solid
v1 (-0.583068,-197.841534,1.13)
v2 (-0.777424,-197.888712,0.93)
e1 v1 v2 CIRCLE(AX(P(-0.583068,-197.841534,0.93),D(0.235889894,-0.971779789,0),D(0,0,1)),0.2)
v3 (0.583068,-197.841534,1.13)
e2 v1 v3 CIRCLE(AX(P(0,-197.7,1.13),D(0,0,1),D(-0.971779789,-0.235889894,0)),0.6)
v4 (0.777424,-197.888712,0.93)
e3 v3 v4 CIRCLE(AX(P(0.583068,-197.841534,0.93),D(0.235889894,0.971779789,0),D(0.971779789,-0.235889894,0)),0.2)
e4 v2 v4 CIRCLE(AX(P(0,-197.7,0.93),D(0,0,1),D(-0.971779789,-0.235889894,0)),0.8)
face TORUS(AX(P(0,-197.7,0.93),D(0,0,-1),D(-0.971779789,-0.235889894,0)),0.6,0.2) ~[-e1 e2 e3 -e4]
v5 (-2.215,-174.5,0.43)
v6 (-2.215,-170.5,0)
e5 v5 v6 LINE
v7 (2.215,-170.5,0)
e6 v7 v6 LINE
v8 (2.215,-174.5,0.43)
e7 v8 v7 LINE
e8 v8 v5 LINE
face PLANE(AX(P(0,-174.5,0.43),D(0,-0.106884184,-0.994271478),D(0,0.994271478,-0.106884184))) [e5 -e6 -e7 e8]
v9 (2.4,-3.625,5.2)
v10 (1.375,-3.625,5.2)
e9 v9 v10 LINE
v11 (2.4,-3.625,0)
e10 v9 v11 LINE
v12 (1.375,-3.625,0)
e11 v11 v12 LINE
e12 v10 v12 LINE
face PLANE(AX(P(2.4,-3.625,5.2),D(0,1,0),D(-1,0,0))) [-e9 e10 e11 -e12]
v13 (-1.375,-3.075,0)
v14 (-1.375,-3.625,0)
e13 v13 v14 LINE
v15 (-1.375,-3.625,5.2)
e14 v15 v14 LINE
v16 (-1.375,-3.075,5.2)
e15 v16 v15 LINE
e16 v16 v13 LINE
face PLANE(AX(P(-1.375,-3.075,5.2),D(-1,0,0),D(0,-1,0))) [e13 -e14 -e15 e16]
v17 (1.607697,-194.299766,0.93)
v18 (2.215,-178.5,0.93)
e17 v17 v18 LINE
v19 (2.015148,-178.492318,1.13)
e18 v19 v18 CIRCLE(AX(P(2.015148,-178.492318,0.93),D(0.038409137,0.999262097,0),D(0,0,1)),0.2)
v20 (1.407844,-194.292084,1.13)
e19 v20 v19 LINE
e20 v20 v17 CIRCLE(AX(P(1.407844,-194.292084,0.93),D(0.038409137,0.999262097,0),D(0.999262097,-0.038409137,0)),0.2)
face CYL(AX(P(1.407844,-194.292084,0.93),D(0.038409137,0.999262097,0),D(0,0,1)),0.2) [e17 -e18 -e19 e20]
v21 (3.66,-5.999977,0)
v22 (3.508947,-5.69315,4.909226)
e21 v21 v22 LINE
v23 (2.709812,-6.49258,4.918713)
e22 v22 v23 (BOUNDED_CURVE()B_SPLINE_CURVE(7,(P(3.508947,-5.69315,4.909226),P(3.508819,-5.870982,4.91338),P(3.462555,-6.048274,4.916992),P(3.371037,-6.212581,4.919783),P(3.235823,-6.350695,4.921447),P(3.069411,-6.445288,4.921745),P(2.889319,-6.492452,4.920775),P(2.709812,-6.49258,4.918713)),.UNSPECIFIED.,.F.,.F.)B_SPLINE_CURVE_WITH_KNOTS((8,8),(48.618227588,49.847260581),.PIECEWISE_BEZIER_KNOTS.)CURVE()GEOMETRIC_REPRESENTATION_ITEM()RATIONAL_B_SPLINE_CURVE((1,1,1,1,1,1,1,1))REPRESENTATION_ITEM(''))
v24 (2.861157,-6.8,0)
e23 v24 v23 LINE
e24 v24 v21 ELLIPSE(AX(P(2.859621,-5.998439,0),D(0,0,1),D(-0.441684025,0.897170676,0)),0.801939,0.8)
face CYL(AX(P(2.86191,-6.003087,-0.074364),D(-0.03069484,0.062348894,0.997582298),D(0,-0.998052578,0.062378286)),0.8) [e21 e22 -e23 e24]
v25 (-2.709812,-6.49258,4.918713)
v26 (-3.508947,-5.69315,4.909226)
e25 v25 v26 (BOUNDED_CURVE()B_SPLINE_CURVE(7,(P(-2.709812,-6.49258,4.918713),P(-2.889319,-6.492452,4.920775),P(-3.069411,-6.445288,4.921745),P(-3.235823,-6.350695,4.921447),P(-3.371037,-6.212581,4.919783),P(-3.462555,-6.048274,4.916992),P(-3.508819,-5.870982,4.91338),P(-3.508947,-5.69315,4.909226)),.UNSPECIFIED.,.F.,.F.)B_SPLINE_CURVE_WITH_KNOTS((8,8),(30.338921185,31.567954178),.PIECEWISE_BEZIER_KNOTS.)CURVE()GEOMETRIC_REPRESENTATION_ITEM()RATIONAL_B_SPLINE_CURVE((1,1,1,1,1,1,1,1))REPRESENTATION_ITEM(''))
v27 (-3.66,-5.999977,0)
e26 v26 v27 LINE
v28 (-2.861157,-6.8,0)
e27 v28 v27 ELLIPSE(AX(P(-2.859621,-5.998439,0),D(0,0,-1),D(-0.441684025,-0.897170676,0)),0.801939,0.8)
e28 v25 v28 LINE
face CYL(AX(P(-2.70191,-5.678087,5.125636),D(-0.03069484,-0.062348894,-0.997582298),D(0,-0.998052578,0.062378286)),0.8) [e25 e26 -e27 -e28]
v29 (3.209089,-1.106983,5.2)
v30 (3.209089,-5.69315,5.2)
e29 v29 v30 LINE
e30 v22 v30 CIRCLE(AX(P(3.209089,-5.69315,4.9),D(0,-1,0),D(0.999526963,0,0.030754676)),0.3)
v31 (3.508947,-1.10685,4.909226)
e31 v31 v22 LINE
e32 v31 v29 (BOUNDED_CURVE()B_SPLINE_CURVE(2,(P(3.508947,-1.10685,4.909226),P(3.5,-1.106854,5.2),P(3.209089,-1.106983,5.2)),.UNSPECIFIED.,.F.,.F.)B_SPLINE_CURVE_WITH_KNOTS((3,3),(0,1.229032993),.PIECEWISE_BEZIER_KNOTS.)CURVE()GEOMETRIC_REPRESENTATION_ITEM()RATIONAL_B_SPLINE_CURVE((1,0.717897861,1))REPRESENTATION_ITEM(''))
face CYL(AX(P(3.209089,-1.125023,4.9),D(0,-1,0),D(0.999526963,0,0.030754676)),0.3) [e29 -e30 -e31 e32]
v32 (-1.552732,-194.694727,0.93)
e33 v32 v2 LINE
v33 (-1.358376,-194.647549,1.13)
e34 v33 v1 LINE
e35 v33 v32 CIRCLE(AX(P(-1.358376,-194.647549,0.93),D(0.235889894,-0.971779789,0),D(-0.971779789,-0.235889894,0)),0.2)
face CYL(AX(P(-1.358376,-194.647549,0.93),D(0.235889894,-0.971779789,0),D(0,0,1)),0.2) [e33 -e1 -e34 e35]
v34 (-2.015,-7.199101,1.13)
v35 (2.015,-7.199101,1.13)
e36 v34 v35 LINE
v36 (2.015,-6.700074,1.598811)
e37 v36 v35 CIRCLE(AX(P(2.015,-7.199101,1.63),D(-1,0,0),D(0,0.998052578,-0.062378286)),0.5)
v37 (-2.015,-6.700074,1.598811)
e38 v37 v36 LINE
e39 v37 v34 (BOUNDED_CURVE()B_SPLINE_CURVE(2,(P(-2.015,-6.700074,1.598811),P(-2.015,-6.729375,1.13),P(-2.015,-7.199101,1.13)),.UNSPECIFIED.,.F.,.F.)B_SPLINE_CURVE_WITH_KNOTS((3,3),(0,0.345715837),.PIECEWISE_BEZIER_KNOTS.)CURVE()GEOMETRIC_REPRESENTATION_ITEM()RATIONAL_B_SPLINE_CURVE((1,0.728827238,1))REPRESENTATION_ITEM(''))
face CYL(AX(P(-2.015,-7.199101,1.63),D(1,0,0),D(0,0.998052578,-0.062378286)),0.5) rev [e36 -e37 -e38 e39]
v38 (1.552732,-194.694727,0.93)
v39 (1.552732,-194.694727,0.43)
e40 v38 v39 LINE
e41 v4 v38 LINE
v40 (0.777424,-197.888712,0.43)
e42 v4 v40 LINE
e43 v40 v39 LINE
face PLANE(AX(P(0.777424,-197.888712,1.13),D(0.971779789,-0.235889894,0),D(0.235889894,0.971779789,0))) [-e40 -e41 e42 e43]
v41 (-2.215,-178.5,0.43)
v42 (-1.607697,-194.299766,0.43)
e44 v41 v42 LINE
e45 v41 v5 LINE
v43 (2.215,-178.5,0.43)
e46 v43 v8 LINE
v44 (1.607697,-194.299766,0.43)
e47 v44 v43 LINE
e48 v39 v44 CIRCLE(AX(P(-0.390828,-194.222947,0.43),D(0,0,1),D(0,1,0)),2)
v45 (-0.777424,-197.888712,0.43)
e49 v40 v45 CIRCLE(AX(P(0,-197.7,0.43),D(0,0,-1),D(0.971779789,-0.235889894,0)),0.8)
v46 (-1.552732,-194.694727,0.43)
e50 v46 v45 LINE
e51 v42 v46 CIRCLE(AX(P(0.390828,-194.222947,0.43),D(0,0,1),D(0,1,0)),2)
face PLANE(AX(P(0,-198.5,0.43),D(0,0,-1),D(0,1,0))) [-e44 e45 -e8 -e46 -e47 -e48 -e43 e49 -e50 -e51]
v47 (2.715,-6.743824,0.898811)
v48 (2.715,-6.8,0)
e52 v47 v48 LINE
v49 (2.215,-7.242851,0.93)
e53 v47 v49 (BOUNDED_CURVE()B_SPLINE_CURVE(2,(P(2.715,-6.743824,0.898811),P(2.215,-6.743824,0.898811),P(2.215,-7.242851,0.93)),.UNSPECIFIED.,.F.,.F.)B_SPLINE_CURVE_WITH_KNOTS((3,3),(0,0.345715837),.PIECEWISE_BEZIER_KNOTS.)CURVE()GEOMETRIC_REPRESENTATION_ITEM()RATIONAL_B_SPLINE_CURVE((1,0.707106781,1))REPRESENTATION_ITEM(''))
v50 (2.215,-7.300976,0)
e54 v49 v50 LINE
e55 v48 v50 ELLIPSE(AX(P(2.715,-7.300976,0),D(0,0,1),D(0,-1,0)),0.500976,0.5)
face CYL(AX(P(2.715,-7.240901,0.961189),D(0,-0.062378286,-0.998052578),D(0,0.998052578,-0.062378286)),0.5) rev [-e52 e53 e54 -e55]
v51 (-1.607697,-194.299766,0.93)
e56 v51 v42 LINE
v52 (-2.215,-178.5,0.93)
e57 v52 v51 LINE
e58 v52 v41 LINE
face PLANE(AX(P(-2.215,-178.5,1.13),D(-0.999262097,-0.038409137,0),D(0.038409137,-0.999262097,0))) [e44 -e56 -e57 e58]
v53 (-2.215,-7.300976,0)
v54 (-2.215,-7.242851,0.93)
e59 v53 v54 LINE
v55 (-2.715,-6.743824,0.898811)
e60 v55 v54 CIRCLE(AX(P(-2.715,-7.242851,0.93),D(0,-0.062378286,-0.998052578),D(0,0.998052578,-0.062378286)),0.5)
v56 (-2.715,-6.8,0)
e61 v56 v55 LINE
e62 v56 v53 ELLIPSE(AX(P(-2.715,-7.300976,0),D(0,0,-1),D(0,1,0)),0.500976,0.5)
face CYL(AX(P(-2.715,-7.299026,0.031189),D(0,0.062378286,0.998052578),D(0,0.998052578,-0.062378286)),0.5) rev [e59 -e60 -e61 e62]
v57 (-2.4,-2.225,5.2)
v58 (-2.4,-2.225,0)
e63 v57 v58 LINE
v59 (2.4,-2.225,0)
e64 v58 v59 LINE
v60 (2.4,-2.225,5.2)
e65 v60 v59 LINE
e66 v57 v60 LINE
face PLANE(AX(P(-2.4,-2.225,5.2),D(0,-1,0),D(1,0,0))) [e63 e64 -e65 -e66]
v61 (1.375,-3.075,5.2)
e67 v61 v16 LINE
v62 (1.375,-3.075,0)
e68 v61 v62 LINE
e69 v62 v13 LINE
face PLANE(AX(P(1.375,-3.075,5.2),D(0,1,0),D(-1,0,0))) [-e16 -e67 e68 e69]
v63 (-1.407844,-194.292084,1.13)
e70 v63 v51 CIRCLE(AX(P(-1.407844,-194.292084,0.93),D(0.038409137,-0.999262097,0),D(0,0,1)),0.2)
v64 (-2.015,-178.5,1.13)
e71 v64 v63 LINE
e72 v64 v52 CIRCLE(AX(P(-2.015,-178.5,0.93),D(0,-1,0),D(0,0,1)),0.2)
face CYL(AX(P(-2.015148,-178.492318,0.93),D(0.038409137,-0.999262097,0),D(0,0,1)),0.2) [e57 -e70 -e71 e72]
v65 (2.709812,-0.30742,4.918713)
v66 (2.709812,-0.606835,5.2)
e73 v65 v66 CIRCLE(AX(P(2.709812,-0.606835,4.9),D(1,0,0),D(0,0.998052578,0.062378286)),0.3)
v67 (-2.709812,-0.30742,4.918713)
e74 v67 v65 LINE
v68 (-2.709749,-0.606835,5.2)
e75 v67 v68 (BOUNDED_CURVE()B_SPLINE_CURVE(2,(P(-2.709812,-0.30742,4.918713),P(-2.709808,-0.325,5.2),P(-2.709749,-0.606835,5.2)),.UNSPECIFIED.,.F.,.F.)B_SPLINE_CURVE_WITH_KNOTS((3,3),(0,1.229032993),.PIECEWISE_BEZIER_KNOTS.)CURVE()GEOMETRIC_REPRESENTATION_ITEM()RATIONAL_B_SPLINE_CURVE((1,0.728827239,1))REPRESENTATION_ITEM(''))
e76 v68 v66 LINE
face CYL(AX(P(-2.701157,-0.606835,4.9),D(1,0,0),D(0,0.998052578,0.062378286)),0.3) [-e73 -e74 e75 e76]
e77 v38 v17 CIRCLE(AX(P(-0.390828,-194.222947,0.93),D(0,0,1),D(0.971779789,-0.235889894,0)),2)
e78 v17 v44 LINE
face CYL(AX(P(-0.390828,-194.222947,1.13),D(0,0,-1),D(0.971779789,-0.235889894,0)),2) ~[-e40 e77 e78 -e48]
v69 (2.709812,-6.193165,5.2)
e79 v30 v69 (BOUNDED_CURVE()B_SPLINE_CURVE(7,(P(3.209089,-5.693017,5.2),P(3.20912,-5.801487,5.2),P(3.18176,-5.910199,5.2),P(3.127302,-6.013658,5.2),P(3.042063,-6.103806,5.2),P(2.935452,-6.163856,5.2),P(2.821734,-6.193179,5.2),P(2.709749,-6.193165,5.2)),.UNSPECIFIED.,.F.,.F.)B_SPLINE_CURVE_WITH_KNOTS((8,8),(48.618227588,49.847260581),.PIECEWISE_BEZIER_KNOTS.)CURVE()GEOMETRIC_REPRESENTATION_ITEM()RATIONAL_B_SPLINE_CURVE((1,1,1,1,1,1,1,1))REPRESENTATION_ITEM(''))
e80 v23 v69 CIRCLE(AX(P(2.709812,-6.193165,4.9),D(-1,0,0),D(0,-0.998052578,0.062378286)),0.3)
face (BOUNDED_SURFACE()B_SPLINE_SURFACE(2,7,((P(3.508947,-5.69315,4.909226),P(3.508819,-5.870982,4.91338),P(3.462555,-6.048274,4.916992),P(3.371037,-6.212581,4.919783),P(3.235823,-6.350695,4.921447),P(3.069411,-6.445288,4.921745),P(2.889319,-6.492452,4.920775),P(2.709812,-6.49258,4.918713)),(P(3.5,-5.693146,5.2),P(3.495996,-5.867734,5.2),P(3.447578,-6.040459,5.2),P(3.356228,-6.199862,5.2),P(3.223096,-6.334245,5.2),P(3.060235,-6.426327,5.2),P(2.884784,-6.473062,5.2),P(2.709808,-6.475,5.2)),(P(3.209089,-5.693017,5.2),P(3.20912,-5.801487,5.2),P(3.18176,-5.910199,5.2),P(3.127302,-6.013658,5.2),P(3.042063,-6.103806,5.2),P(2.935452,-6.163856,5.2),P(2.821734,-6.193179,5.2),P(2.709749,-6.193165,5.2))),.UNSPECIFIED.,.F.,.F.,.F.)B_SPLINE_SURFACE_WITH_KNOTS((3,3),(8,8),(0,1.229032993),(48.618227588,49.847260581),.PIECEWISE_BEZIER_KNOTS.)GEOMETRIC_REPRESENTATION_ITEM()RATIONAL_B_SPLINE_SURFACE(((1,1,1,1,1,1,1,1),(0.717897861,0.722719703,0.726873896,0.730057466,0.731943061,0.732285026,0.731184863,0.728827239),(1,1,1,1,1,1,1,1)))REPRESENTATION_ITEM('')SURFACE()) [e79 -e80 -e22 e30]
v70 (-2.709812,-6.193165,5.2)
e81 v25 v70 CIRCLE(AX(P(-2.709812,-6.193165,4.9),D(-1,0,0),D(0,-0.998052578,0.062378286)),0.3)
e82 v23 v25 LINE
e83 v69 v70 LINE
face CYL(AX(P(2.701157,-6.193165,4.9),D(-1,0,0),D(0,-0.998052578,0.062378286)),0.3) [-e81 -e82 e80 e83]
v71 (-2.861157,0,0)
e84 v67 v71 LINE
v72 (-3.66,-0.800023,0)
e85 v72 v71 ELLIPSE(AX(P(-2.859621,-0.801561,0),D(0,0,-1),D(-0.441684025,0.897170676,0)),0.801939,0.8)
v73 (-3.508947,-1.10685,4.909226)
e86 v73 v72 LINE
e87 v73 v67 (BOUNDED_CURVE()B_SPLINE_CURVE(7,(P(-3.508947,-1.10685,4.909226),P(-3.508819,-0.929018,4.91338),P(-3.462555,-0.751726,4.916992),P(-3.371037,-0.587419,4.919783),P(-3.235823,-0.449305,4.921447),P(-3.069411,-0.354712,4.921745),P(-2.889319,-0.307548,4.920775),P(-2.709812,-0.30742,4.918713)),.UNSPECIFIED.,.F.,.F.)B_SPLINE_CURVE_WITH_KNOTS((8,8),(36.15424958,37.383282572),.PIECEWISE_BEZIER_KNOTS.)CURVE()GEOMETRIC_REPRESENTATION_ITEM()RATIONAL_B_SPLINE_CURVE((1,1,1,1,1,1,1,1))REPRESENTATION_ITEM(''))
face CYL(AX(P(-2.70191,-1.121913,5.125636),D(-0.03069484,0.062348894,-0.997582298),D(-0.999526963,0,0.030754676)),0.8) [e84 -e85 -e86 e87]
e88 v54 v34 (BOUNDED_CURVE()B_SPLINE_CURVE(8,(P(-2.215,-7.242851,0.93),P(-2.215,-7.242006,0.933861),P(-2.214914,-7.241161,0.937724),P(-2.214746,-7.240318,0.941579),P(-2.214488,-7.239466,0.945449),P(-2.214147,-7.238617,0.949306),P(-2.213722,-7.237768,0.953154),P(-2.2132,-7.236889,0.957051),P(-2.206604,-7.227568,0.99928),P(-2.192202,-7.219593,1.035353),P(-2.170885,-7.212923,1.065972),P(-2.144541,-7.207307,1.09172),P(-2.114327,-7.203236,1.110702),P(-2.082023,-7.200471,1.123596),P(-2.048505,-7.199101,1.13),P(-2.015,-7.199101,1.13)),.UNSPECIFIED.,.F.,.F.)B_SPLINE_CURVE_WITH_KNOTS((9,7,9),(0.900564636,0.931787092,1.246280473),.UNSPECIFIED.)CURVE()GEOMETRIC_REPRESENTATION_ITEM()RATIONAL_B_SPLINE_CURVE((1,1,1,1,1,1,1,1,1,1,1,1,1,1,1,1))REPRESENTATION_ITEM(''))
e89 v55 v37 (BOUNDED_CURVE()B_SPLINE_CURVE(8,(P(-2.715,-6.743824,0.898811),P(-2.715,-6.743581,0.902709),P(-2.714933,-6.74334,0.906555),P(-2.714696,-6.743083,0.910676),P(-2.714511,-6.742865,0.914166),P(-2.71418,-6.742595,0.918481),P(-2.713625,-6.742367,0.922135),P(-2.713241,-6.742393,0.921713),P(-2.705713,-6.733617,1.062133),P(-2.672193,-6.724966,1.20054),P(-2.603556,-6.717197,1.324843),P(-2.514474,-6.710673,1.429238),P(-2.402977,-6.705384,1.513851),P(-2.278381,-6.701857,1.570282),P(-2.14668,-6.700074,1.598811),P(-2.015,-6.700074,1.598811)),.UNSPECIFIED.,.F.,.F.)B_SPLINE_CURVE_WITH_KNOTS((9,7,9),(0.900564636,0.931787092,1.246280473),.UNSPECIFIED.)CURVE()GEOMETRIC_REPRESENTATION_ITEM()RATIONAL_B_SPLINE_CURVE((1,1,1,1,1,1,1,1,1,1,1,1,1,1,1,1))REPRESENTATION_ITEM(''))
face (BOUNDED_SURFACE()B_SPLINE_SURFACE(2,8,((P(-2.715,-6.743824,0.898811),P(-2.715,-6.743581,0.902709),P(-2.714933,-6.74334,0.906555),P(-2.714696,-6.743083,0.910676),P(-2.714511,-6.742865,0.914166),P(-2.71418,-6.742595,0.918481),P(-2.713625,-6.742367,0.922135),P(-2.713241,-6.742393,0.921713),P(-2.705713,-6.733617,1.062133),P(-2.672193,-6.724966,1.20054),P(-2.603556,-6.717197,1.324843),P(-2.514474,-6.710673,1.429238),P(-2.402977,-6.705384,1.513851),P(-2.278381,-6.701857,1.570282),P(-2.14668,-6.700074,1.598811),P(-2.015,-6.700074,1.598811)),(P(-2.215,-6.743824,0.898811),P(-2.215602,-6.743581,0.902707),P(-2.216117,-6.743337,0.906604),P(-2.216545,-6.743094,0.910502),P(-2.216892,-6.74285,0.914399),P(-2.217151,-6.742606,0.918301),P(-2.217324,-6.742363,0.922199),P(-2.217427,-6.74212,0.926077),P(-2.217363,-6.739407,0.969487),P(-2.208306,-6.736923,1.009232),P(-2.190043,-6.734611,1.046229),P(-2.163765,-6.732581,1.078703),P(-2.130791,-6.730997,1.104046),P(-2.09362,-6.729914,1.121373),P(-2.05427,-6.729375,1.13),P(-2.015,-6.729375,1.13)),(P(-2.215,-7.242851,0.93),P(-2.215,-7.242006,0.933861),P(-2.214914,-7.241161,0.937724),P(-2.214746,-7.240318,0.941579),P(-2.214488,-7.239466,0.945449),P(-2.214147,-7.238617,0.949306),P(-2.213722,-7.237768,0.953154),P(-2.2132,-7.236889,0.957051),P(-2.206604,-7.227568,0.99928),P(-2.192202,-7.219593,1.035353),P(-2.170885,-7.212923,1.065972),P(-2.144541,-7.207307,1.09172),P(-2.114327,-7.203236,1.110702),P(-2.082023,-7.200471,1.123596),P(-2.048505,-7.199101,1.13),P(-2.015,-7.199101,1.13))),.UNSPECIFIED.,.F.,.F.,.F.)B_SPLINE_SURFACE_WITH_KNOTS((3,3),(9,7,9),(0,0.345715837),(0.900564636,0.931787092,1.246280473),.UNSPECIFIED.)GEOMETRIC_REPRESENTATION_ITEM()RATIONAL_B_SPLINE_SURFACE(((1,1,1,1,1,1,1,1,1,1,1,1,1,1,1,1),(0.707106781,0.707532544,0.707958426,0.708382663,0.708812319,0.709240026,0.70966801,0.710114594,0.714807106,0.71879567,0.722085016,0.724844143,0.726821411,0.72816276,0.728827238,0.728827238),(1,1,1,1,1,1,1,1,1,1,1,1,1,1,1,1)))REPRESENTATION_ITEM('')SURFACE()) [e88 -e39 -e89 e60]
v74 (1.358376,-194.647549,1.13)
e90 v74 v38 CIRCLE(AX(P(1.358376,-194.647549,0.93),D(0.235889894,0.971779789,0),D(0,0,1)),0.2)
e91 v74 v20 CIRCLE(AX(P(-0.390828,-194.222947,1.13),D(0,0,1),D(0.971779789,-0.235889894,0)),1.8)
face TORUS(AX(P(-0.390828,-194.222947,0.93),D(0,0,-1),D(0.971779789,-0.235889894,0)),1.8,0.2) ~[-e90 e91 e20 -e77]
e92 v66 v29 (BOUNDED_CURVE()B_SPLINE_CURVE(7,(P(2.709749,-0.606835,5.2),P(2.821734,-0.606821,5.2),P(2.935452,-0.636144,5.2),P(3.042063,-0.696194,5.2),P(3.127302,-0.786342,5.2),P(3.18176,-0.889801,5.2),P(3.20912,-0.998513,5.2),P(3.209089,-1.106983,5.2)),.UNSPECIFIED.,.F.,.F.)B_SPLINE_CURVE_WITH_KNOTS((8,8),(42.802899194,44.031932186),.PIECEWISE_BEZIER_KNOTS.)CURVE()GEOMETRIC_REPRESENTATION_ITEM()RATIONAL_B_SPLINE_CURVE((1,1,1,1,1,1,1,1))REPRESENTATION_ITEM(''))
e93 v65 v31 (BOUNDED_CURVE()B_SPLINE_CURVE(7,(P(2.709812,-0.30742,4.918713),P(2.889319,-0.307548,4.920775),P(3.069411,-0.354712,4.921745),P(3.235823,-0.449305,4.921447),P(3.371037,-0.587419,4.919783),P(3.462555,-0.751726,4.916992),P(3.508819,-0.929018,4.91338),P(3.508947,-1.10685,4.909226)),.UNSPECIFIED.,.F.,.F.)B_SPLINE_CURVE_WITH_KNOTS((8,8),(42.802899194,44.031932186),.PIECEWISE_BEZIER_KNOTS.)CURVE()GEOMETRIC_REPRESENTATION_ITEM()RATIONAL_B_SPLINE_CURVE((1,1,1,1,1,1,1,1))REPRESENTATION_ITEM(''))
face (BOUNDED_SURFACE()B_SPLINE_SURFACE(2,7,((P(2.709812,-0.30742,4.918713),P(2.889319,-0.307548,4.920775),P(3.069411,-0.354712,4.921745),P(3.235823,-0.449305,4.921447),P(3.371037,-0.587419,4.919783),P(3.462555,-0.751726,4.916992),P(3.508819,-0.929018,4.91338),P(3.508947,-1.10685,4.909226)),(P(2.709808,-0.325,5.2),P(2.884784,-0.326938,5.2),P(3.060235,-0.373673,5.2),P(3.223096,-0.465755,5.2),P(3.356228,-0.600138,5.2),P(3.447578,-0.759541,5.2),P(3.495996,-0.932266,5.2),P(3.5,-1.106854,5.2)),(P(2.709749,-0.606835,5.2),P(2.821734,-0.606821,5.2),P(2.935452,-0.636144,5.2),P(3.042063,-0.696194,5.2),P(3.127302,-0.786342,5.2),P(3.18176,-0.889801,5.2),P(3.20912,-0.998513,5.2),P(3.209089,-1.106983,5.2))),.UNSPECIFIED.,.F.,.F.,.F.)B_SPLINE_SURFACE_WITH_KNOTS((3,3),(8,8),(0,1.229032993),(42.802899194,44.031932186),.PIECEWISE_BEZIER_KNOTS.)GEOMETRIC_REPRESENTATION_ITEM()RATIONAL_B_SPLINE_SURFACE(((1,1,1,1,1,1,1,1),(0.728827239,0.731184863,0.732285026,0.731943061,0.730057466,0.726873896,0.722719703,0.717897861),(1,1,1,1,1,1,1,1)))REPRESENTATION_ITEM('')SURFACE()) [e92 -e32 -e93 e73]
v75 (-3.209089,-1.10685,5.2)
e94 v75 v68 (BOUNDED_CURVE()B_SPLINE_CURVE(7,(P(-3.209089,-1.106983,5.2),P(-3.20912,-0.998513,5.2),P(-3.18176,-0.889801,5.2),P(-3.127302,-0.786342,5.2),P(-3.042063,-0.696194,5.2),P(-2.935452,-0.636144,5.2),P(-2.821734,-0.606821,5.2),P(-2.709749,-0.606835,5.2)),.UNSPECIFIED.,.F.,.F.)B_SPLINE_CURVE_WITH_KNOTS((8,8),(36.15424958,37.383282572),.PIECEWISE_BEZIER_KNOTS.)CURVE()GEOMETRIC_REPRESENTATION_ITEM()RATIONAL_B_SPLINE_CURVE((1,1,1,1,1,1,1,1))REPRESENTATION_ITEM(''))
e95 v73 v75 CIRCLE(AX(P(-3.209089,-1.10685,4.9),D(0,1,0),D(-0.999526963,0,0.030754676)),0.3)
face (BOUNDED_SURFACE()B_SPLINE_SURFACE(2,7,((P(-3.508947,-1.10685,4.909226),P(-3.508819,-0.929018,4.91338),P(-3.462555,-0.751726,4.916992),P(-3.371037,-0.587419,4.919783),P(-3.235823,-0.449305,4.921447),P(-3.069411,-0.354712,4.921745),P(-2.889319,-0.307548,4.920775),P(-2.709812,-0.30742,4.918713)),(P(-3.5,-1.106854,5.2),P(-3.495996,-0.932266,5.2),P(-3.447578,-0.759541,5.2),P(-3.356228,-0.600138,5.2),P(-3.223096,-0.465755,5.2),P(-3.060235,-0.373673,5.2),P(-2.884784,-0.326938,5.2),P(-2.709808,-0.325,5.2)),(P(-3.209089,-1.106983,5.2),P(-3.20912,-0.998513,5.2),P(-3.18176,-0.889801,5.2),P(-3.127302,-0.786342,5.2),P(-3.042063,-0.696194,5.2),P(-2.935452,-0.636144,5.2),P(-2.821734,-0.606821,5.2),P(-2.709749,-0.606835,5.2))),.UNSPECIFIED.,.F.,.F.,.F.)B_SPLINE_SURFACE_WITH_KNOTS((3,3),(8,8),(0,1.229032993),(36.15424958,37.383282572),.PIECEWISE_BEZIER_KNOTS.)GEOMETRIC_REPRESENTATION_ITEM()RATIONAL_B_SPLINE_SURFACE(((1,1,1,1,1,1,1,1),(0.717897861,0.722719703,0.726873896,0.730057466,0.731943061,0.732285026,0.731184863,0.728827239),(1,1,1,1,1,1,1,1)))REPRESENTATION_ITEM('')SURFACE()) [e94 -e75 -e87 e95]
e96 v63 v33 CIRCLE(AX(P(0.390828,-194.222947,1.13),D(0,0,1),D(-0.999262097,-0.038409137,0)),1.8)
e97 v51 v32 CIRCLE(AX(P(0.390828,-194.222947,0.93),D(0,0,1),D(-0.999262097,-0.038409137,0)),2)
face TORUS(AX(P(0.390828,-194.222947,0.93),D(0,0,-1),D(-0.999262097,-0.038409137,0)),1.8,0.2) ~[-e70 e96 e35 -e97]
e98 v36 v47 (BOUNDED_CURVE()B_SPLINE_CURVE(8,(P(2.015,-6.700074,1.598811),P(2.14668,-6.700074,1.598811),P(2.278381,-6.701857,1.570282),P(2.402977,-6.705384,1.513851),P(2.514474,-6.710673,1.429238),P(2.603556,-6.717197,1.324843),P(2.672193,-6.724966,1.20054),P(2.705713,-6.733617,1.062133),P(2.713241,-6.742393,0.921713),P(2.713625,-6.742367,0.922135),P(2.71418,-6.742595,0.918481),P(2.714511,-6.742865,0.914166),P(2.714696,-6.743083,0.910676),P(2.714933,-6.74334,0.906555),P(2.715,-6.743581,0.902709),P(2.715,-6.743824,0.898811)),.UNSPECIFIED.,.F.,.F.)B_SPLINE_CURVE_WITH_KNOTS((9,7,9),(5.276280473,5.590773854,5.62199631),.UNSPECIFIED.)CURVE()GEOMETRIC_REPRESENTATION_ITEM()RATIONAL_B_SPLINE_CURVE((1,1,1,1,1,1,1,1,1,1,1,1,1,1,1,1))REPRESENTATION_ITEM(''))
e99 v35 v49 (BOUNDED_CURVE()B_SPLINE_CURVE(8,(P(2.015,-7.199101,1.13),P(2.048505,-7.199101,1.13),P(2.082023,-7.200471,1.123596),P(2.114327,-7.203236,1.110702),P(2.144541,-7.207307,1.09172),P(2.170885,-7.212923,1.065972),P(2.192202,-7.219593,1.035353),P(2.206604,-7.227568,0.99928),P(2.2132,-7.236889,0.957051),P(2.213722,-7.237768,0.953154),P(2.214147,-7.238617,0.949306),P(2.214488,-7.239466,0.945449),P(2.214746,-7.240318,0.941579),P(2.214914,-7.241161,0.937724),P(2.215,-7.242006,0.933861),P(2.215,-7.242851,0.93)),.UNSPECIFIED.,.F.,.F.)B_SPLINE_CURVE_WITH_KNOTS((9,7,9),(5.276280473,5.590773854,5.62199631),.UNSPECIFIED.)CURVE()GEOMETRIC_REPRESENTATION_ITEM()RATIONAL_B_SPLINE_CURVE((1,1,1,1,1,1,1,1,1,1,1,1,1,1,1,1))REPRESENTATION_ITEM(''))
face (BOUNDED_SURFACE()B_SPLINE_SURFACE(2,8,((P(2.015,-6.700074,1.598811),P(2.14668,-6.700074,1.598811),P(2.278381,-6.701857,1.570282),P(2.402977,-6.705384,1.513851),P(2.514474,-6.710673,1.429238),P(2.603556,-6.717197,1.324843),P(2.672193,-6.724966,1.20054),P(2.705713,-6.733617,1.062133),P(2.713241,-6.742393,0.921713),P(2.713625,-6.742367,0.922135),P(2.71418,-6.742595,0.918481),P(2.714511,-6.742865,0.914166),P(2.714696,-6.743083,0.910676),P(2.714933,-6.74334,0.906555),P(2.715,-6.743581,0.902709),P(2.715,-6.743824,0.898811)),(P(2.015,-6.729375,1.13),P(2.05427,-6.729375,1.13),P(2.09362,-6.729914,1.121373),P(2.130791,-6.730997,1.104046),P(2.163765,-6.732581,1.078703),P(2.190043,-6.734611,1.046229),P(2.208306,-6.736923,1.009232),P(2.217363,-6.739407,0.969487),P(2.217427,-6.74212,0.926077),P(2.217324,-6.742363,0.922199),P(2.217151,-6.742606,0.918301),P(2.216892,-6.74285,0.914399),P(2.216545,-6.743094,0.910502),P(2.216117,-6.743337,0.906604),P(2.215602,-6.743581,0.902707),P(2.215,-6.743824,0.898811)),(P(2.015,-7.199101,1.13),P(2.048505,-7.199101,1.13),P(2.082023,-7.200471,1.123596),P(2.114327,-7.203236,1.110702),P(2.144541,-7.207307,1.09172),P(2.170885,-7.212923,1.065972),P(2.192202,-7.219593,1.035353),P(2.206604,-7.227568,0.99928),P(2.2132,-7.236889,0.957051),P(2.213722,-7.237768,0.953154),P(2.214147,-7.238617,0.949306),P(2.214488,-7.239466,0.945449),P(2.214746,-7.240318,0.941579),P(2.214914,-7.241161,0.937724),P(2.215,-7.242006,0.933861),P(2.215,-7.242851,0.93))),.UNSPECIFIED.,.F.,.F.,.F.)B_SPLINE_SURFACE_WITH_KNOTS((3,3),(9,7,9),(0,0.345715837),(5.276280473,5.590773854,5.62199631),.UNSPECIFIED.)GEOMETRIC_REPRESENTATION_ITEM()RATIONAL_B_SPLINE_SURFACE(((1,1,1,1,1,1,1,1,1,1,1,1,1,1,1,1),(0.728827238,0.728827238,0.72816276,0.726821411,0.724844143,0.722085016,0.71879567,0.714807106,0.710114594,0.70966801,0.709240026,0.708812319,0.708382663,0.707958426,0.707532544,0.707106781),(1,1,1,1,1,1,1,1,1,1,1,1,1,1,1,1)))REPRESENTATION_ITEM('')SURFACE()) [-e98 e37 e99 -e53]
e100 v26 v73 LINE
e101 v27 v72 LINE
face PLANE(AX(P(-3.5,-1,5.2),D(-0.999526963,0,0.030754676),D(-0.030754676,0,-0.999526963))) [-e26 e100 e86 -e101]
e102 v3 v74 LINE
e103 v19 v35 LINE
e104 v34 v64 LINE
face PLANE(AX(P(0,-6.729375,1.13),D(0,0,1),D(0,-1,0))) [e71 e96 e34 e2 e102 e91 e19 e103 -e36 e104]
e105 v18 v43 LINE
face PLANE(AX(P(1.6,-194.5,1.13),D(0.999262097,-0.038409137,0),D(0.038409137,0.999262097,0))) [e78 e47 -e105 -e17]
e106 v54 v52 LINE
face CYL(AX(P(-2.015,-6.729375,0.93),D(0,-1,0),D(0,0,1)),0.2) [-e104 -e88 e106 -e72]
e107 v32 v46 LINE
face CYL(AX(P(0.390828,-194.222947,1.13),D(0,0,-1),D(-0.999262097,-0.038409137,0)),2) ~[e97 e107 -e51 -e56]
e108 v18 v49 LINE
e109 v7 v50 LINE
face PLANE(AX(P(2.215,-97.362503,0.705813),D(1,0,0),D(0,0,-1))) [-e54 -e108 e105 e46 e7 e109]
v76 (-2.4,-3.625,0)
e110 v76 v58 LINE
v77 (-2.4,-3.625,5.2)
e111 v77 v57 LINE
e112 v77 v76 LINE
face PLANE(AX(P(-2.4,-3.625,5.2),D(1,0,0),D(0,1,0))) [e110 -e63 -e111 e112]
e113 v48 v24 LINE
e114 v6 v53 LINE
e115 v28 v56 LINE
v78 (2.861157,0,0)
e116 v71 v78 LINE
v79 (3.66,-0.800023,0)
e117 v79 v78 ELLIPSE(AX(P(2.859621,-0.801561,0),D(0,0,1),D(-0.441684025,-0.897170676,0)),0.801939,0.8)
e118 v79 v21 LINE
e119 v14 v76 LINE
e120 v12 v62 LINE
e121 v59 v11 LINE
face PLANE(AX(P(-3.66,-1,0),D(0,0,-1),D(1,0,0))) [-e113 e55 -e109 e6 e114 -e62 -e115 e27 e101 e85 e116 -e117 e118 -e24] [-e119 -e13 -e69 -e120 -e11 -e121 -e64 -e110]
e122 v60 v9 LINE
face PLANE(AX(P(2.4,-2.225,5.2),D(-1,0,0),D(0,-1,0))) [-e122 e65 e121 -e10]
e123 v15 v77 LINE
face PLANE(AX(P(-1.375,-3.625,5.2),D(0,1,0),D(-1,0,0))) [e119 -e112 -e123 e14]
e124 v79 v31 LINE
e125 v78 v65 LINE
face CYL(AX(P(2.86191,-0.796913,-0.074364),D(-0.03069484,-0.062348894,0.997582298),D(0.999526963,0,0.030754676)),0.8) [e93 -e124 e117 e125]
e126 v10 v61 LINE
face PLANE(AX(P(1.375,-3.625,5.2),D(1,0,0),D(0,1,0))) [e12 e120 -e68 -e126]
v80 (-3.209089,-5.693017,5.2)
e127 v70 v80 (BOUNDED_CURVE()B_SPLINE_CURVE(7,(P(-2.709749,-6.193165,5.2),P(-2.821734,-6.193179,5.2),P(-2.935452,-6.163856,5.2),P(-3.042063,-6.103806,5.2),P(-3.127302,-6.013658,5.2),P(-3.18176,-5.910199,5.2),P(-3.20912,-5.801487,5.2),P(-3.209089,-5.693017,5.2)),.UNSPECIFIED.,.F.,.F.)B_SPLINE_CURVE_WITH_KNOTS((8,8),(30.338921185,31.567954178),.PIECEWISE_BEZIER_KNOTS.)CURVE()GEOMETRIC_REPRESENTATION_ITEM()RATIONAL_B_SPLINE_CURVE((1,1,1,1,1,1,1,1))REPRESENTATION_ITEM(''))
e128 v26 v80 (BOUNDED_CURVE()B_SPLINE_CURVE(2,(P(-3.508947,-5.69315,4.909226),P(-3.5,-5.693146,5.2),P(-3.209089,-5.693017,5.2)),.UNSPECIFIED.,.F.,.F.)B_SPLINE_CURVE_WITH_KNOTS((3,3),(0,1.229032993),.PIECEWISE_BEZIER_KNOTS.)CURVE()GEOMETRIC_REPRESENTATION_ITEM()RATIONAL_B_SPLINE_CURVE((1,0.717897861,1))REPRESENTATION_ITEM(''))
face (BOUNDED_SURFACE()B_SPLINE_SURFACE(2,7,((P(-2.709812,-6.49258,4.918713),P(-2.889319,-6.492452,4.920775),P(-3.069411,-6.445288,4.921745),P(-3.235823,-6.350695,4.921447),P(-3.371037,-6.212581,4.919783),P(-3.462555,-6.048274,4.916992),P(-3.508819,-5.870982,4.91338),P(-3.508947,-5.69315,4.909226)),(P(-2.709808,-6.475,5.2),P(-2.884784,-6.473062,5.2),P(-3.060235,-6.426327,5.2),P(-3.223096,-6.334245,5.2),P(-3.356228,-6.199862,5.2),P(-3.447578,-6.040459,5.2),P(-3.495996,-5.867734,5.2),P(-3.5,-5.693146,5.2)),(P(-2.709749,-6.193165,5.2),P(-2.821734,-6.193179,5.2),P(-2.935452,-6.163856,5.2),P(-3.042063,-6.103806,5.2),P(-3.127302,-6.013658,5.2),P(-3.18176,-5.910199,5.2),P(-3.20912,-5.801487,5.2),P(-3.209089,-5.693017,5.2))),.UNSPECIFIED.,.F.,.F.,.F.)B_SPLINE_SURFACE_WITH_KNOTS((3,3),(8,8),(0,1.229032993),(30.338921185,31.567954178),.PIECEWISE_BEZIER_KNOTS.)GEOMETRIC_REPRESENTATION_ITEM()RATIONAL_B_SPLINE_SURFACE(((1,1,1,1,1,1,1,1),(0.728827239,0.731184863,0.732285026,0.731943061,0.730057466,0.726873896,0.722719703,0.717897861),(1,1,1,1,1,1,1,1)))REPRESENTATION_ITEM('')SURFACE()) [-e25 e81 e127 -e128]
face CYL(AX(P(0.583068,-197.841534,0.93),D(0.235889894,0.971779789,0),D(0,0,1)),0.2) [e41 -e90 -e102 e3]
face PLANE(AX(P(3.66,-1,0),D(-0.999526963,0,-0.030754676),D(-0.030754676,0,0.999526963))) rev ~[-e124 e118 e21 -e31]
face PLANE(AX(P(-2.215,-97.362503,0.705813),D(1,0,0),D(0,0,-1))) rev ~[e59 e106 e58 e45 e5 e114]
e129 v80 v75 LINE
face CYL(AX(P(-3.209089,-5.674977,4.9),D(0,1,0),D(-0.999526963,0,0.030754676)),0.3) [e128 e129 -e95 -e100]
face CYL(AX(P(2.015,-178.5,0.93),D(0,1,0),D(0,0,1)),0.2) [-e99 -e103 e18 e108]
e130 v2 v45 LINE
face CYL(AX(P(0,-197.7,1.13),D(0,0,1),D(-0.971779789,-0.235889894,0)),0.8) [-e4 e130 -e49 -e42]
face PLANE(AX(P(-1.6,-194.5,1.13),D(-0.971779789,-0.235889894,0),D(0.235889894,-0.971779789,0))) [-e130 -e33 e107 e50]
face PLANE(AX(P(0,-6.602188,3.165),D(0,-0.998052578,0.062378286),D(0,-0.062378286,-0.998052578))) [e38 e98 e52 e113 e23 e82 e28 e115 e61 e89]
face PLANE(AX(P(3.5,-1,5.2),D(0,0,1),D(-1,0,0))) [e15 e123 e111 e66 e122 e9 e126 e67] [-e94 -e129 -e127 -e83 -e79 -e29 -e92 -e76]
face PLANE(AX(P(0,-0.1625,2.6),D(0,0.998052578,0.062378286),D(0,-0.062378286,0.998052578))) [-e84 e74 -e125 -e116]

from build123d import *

# Parameters (mm, degrees)
BOSS_EXTRUDE1_DEPTH             = 2.215
BOSS_EXTRUDE3_REACH             = 201.5
BOSS_EXTRUDE3_START             = -1
BOSS_EXTRUDE3_DIRECTION_2_REACH = 3
CUT_EXTRUDE1_DEPTH              = 5.2
CUT_EXTRUDE2_DEPTH              = 0.7
FILLET1_R                       = 2
FILLET2_R                       = 0.8
FILLET4_R                       = 0.2
FILLET3_R                       = 0.5
FILLET5_R                       = 0.3


with BuildPart() as part:
    # Sketch1 → Boss-Extrude1 (new body, symmetric)
    with BuildSketch(Plane(origin=(0, 0, 0), x_dir=(0, 0, -1), z_dir=(1, 0, 0))):
        Polygon((0, 0), (-5.2, -0.325), (-5.2, -6.475), (-1.13, -6.729375), (-1.13, -198.5), (-0.43, -198.5), (-0.43, -174.5), (0, -170.5), align=None)
    extrude(amount=BOSS_EXTRUDE1_DEPTH, both=True)

    # Boss-Extrude3: up to this face of the body (flat: up to its plane)
    boss_extrude3_end = Plane(part.part.faces().sort_by_distance((0, -6.6021875, 3.165))[0])
    # Sketch2 → Boss-Extrude3 (add, up to the picked face)
    with BuildSketch(Plane(origin=(0, 0, 0), x_dir=(1, 0, 0), z_dir=(0, 1, 0)).offset(BOSS_EXTRUDE3_START), mode=Mode.PRIVATE) as boss_extrude3_sk1:
        Polygon((-3.66, 0), (3.66, 0), (3.5, -5.2), (-3.5, -5.2), align=None)
    boss_extrude3_tool1 = split(extrude(boss_extrude3_sk1.sketch, amount=-BOSS_EXTRUDE3_REACH, mode=Mode.PRIVATE), bisect_by=boss_extrude3_end, keep=Keep.BOTH, mode=Mode.PRIVATE)
    add(boss_extrude3_tool1.solids().sort_by_distance((0, -1, 2.580633))[0])

    # Boss-Extrude3 direction 2: up to this face of the body (flat: up to its plane)
    boss_extrude3_direction_2_end = Plane(part.part.faces().sort_by_distance((0, -0.1625, 2.6))[0])
    # Sketch2 → Boss-Extrude3 direction 2 (add, up to the picked face)
    with BuildSketch(Plane(origin=(0, 0, 0), x_dir=(1, 0, 0), z_dir=(0, 1, 0)).offset(BOSS_EXTRUDE3_START), mode=Mode.PRIVATE) as boss_extrude3_direction_2_sk1:
        Polygon((-3.66, 0), (3.66, 0), (3.5, -5.2), (-3.5, -5.2), align=None)
    boss_extrude3_direction_2_tool1 = split(extrude(boss_extrude3_direction_2_sk1.sketch, amount=BOSS_EXTRUDE3_DIRECTION_2_REACH, mode=Mode.PRIVATE), bisect_by=boss_extrude3_direction_2_end, keep=Keep.BOTH, mode=Mode.PRIVATE)
    add(boss_extrude3_direction_2_tool1.solids().sort_by_distance((0, -1, 2.580633))[0])

    # Sketch3 → Cut-Extrude1 (cut)
    with BuildSketch(Plane.XY.offset(5.2)):
        Polygon((-2.4, -2.225), (2.4, -2.225), (2.4, -3.625), (1.375, -3.625), (1.375, -3.075), (-1.375, -3.075), (-1.375, -3.625), (-2.4, -3.625), align=None)
    extrude(amount=-CUT_EXTRUDE1_DEPTH, mode=Mode.SUBTRACT)

    # Sketch5 → Cut-Extrude2 (cut)
    with BuildSketch(Plane.XY.offset(1.13)):
        with BuildLine():
            Line((0.777423831, -197.888711915), (1.6, -194.5))
            Line((1.6, -194.5), (2.215, -178.5))
            Line((2.215, -178.5), (2.215, -198.6))
            Line((2.215, -198.6), (-2.215, -198.6))
            Line((-2.215, -198.6), (-2.215, -178.5))
            Line((-2.215, -178.5), (-1.6, -194.5))
            Line((-1.6, -194.5), (-0.777423831, -197.888711915))
            ThreePointArc((-0.777423831, -197.888711915), (0, -198.5), (0.777423831, -197.888711915))
        make_face()
    extrude(amount=-CUT_EXTRUDE2_DEPTH, mode=Mode.SUBTRACT)

    # Fillet1
    fillet1_edges = [part.edges().sort_by_distance(p)[0] for p in [
        (2.215, -178.5, 0.78),
        (1.6, -194.5, 0.78),
        (-2.215, -178.5, 0.78),
        (-1.6, -194.5, 0.78),
    ]]
    fillet(fillet1_edges, radius=FILLET1_R)

    # Fillet2
    fillet2_edges = [part.edges().sort_by_distance(p)[0] for p in [
        (3.58, -0.1625, 2.6),
        (3.58, -6.6375, 2.6),
        (-3.58, -0.1625, 2.6),
        (-3.58, -6.6375, 2.6),
    ]]
    fillet(fillet2_edges, radius=FILLET2_R)

    # Fillet4
    fillet4_edges = [part.edges().sort_by_distance(p)[0] for p in [
        (1.165077859, -196.291719596, 1.13),
        (1.911348252, -186.399882881, 1.13),
        (-1.911348252, -186.399882881, 1.13),
        (1.590082395, -194.498619822, 1.13),
        (-1.590082395, -194.498619822, 1.13),
        (1.911348252, -186.399882881, 1.13),
        (-1.911348252, -186.399882881, 1.13),
        (2.215, -92.6146875, 1.13),
        (0, -198.5, 1.13),
        (-1.165077859, -196.291719596, 1.13),
        (-2.215, -92.6146875, 1.13),
    ]]
    fillet(fillet4_edges, radius=FILLET4_R)

    # Fillet3
    fillet3_edges = [part.edges().sort_by_distance(p)[0] for p in [
        (0, -6.729375, 1.13),
        (-2.215, -6.7709375, 0.465),
        (2.215, -6.7709375, 0.465),
        (-2.156490258, -6.733040474, 1.071352421),
        (2.156490258, -6.733040474, 1.071352421),
    ]]
    fillet(fillet3_edges, radius=FILLET3_R)

    # Fillet5
    fillet5_edges = [part.edges().sort_by_distance(p)[0] for p in [
        (0, -6.475, 5.2),
        (-3.5, -3.4, 5.2),
        (0, -0.325, 5.2),
        (3.5, -3.4, 5.2),
        (3.266325663, -6.240562729, 5.2),
        (3.266325663, -0.559437271, 5.2),
        (-3.266325663, -0.559437271, 5.2),
        (-3.266325663, -6.240562729, 5.2),
    ]]
    fillet(fillet5_edges, radius=FILLET5_R)


solid = part.part
